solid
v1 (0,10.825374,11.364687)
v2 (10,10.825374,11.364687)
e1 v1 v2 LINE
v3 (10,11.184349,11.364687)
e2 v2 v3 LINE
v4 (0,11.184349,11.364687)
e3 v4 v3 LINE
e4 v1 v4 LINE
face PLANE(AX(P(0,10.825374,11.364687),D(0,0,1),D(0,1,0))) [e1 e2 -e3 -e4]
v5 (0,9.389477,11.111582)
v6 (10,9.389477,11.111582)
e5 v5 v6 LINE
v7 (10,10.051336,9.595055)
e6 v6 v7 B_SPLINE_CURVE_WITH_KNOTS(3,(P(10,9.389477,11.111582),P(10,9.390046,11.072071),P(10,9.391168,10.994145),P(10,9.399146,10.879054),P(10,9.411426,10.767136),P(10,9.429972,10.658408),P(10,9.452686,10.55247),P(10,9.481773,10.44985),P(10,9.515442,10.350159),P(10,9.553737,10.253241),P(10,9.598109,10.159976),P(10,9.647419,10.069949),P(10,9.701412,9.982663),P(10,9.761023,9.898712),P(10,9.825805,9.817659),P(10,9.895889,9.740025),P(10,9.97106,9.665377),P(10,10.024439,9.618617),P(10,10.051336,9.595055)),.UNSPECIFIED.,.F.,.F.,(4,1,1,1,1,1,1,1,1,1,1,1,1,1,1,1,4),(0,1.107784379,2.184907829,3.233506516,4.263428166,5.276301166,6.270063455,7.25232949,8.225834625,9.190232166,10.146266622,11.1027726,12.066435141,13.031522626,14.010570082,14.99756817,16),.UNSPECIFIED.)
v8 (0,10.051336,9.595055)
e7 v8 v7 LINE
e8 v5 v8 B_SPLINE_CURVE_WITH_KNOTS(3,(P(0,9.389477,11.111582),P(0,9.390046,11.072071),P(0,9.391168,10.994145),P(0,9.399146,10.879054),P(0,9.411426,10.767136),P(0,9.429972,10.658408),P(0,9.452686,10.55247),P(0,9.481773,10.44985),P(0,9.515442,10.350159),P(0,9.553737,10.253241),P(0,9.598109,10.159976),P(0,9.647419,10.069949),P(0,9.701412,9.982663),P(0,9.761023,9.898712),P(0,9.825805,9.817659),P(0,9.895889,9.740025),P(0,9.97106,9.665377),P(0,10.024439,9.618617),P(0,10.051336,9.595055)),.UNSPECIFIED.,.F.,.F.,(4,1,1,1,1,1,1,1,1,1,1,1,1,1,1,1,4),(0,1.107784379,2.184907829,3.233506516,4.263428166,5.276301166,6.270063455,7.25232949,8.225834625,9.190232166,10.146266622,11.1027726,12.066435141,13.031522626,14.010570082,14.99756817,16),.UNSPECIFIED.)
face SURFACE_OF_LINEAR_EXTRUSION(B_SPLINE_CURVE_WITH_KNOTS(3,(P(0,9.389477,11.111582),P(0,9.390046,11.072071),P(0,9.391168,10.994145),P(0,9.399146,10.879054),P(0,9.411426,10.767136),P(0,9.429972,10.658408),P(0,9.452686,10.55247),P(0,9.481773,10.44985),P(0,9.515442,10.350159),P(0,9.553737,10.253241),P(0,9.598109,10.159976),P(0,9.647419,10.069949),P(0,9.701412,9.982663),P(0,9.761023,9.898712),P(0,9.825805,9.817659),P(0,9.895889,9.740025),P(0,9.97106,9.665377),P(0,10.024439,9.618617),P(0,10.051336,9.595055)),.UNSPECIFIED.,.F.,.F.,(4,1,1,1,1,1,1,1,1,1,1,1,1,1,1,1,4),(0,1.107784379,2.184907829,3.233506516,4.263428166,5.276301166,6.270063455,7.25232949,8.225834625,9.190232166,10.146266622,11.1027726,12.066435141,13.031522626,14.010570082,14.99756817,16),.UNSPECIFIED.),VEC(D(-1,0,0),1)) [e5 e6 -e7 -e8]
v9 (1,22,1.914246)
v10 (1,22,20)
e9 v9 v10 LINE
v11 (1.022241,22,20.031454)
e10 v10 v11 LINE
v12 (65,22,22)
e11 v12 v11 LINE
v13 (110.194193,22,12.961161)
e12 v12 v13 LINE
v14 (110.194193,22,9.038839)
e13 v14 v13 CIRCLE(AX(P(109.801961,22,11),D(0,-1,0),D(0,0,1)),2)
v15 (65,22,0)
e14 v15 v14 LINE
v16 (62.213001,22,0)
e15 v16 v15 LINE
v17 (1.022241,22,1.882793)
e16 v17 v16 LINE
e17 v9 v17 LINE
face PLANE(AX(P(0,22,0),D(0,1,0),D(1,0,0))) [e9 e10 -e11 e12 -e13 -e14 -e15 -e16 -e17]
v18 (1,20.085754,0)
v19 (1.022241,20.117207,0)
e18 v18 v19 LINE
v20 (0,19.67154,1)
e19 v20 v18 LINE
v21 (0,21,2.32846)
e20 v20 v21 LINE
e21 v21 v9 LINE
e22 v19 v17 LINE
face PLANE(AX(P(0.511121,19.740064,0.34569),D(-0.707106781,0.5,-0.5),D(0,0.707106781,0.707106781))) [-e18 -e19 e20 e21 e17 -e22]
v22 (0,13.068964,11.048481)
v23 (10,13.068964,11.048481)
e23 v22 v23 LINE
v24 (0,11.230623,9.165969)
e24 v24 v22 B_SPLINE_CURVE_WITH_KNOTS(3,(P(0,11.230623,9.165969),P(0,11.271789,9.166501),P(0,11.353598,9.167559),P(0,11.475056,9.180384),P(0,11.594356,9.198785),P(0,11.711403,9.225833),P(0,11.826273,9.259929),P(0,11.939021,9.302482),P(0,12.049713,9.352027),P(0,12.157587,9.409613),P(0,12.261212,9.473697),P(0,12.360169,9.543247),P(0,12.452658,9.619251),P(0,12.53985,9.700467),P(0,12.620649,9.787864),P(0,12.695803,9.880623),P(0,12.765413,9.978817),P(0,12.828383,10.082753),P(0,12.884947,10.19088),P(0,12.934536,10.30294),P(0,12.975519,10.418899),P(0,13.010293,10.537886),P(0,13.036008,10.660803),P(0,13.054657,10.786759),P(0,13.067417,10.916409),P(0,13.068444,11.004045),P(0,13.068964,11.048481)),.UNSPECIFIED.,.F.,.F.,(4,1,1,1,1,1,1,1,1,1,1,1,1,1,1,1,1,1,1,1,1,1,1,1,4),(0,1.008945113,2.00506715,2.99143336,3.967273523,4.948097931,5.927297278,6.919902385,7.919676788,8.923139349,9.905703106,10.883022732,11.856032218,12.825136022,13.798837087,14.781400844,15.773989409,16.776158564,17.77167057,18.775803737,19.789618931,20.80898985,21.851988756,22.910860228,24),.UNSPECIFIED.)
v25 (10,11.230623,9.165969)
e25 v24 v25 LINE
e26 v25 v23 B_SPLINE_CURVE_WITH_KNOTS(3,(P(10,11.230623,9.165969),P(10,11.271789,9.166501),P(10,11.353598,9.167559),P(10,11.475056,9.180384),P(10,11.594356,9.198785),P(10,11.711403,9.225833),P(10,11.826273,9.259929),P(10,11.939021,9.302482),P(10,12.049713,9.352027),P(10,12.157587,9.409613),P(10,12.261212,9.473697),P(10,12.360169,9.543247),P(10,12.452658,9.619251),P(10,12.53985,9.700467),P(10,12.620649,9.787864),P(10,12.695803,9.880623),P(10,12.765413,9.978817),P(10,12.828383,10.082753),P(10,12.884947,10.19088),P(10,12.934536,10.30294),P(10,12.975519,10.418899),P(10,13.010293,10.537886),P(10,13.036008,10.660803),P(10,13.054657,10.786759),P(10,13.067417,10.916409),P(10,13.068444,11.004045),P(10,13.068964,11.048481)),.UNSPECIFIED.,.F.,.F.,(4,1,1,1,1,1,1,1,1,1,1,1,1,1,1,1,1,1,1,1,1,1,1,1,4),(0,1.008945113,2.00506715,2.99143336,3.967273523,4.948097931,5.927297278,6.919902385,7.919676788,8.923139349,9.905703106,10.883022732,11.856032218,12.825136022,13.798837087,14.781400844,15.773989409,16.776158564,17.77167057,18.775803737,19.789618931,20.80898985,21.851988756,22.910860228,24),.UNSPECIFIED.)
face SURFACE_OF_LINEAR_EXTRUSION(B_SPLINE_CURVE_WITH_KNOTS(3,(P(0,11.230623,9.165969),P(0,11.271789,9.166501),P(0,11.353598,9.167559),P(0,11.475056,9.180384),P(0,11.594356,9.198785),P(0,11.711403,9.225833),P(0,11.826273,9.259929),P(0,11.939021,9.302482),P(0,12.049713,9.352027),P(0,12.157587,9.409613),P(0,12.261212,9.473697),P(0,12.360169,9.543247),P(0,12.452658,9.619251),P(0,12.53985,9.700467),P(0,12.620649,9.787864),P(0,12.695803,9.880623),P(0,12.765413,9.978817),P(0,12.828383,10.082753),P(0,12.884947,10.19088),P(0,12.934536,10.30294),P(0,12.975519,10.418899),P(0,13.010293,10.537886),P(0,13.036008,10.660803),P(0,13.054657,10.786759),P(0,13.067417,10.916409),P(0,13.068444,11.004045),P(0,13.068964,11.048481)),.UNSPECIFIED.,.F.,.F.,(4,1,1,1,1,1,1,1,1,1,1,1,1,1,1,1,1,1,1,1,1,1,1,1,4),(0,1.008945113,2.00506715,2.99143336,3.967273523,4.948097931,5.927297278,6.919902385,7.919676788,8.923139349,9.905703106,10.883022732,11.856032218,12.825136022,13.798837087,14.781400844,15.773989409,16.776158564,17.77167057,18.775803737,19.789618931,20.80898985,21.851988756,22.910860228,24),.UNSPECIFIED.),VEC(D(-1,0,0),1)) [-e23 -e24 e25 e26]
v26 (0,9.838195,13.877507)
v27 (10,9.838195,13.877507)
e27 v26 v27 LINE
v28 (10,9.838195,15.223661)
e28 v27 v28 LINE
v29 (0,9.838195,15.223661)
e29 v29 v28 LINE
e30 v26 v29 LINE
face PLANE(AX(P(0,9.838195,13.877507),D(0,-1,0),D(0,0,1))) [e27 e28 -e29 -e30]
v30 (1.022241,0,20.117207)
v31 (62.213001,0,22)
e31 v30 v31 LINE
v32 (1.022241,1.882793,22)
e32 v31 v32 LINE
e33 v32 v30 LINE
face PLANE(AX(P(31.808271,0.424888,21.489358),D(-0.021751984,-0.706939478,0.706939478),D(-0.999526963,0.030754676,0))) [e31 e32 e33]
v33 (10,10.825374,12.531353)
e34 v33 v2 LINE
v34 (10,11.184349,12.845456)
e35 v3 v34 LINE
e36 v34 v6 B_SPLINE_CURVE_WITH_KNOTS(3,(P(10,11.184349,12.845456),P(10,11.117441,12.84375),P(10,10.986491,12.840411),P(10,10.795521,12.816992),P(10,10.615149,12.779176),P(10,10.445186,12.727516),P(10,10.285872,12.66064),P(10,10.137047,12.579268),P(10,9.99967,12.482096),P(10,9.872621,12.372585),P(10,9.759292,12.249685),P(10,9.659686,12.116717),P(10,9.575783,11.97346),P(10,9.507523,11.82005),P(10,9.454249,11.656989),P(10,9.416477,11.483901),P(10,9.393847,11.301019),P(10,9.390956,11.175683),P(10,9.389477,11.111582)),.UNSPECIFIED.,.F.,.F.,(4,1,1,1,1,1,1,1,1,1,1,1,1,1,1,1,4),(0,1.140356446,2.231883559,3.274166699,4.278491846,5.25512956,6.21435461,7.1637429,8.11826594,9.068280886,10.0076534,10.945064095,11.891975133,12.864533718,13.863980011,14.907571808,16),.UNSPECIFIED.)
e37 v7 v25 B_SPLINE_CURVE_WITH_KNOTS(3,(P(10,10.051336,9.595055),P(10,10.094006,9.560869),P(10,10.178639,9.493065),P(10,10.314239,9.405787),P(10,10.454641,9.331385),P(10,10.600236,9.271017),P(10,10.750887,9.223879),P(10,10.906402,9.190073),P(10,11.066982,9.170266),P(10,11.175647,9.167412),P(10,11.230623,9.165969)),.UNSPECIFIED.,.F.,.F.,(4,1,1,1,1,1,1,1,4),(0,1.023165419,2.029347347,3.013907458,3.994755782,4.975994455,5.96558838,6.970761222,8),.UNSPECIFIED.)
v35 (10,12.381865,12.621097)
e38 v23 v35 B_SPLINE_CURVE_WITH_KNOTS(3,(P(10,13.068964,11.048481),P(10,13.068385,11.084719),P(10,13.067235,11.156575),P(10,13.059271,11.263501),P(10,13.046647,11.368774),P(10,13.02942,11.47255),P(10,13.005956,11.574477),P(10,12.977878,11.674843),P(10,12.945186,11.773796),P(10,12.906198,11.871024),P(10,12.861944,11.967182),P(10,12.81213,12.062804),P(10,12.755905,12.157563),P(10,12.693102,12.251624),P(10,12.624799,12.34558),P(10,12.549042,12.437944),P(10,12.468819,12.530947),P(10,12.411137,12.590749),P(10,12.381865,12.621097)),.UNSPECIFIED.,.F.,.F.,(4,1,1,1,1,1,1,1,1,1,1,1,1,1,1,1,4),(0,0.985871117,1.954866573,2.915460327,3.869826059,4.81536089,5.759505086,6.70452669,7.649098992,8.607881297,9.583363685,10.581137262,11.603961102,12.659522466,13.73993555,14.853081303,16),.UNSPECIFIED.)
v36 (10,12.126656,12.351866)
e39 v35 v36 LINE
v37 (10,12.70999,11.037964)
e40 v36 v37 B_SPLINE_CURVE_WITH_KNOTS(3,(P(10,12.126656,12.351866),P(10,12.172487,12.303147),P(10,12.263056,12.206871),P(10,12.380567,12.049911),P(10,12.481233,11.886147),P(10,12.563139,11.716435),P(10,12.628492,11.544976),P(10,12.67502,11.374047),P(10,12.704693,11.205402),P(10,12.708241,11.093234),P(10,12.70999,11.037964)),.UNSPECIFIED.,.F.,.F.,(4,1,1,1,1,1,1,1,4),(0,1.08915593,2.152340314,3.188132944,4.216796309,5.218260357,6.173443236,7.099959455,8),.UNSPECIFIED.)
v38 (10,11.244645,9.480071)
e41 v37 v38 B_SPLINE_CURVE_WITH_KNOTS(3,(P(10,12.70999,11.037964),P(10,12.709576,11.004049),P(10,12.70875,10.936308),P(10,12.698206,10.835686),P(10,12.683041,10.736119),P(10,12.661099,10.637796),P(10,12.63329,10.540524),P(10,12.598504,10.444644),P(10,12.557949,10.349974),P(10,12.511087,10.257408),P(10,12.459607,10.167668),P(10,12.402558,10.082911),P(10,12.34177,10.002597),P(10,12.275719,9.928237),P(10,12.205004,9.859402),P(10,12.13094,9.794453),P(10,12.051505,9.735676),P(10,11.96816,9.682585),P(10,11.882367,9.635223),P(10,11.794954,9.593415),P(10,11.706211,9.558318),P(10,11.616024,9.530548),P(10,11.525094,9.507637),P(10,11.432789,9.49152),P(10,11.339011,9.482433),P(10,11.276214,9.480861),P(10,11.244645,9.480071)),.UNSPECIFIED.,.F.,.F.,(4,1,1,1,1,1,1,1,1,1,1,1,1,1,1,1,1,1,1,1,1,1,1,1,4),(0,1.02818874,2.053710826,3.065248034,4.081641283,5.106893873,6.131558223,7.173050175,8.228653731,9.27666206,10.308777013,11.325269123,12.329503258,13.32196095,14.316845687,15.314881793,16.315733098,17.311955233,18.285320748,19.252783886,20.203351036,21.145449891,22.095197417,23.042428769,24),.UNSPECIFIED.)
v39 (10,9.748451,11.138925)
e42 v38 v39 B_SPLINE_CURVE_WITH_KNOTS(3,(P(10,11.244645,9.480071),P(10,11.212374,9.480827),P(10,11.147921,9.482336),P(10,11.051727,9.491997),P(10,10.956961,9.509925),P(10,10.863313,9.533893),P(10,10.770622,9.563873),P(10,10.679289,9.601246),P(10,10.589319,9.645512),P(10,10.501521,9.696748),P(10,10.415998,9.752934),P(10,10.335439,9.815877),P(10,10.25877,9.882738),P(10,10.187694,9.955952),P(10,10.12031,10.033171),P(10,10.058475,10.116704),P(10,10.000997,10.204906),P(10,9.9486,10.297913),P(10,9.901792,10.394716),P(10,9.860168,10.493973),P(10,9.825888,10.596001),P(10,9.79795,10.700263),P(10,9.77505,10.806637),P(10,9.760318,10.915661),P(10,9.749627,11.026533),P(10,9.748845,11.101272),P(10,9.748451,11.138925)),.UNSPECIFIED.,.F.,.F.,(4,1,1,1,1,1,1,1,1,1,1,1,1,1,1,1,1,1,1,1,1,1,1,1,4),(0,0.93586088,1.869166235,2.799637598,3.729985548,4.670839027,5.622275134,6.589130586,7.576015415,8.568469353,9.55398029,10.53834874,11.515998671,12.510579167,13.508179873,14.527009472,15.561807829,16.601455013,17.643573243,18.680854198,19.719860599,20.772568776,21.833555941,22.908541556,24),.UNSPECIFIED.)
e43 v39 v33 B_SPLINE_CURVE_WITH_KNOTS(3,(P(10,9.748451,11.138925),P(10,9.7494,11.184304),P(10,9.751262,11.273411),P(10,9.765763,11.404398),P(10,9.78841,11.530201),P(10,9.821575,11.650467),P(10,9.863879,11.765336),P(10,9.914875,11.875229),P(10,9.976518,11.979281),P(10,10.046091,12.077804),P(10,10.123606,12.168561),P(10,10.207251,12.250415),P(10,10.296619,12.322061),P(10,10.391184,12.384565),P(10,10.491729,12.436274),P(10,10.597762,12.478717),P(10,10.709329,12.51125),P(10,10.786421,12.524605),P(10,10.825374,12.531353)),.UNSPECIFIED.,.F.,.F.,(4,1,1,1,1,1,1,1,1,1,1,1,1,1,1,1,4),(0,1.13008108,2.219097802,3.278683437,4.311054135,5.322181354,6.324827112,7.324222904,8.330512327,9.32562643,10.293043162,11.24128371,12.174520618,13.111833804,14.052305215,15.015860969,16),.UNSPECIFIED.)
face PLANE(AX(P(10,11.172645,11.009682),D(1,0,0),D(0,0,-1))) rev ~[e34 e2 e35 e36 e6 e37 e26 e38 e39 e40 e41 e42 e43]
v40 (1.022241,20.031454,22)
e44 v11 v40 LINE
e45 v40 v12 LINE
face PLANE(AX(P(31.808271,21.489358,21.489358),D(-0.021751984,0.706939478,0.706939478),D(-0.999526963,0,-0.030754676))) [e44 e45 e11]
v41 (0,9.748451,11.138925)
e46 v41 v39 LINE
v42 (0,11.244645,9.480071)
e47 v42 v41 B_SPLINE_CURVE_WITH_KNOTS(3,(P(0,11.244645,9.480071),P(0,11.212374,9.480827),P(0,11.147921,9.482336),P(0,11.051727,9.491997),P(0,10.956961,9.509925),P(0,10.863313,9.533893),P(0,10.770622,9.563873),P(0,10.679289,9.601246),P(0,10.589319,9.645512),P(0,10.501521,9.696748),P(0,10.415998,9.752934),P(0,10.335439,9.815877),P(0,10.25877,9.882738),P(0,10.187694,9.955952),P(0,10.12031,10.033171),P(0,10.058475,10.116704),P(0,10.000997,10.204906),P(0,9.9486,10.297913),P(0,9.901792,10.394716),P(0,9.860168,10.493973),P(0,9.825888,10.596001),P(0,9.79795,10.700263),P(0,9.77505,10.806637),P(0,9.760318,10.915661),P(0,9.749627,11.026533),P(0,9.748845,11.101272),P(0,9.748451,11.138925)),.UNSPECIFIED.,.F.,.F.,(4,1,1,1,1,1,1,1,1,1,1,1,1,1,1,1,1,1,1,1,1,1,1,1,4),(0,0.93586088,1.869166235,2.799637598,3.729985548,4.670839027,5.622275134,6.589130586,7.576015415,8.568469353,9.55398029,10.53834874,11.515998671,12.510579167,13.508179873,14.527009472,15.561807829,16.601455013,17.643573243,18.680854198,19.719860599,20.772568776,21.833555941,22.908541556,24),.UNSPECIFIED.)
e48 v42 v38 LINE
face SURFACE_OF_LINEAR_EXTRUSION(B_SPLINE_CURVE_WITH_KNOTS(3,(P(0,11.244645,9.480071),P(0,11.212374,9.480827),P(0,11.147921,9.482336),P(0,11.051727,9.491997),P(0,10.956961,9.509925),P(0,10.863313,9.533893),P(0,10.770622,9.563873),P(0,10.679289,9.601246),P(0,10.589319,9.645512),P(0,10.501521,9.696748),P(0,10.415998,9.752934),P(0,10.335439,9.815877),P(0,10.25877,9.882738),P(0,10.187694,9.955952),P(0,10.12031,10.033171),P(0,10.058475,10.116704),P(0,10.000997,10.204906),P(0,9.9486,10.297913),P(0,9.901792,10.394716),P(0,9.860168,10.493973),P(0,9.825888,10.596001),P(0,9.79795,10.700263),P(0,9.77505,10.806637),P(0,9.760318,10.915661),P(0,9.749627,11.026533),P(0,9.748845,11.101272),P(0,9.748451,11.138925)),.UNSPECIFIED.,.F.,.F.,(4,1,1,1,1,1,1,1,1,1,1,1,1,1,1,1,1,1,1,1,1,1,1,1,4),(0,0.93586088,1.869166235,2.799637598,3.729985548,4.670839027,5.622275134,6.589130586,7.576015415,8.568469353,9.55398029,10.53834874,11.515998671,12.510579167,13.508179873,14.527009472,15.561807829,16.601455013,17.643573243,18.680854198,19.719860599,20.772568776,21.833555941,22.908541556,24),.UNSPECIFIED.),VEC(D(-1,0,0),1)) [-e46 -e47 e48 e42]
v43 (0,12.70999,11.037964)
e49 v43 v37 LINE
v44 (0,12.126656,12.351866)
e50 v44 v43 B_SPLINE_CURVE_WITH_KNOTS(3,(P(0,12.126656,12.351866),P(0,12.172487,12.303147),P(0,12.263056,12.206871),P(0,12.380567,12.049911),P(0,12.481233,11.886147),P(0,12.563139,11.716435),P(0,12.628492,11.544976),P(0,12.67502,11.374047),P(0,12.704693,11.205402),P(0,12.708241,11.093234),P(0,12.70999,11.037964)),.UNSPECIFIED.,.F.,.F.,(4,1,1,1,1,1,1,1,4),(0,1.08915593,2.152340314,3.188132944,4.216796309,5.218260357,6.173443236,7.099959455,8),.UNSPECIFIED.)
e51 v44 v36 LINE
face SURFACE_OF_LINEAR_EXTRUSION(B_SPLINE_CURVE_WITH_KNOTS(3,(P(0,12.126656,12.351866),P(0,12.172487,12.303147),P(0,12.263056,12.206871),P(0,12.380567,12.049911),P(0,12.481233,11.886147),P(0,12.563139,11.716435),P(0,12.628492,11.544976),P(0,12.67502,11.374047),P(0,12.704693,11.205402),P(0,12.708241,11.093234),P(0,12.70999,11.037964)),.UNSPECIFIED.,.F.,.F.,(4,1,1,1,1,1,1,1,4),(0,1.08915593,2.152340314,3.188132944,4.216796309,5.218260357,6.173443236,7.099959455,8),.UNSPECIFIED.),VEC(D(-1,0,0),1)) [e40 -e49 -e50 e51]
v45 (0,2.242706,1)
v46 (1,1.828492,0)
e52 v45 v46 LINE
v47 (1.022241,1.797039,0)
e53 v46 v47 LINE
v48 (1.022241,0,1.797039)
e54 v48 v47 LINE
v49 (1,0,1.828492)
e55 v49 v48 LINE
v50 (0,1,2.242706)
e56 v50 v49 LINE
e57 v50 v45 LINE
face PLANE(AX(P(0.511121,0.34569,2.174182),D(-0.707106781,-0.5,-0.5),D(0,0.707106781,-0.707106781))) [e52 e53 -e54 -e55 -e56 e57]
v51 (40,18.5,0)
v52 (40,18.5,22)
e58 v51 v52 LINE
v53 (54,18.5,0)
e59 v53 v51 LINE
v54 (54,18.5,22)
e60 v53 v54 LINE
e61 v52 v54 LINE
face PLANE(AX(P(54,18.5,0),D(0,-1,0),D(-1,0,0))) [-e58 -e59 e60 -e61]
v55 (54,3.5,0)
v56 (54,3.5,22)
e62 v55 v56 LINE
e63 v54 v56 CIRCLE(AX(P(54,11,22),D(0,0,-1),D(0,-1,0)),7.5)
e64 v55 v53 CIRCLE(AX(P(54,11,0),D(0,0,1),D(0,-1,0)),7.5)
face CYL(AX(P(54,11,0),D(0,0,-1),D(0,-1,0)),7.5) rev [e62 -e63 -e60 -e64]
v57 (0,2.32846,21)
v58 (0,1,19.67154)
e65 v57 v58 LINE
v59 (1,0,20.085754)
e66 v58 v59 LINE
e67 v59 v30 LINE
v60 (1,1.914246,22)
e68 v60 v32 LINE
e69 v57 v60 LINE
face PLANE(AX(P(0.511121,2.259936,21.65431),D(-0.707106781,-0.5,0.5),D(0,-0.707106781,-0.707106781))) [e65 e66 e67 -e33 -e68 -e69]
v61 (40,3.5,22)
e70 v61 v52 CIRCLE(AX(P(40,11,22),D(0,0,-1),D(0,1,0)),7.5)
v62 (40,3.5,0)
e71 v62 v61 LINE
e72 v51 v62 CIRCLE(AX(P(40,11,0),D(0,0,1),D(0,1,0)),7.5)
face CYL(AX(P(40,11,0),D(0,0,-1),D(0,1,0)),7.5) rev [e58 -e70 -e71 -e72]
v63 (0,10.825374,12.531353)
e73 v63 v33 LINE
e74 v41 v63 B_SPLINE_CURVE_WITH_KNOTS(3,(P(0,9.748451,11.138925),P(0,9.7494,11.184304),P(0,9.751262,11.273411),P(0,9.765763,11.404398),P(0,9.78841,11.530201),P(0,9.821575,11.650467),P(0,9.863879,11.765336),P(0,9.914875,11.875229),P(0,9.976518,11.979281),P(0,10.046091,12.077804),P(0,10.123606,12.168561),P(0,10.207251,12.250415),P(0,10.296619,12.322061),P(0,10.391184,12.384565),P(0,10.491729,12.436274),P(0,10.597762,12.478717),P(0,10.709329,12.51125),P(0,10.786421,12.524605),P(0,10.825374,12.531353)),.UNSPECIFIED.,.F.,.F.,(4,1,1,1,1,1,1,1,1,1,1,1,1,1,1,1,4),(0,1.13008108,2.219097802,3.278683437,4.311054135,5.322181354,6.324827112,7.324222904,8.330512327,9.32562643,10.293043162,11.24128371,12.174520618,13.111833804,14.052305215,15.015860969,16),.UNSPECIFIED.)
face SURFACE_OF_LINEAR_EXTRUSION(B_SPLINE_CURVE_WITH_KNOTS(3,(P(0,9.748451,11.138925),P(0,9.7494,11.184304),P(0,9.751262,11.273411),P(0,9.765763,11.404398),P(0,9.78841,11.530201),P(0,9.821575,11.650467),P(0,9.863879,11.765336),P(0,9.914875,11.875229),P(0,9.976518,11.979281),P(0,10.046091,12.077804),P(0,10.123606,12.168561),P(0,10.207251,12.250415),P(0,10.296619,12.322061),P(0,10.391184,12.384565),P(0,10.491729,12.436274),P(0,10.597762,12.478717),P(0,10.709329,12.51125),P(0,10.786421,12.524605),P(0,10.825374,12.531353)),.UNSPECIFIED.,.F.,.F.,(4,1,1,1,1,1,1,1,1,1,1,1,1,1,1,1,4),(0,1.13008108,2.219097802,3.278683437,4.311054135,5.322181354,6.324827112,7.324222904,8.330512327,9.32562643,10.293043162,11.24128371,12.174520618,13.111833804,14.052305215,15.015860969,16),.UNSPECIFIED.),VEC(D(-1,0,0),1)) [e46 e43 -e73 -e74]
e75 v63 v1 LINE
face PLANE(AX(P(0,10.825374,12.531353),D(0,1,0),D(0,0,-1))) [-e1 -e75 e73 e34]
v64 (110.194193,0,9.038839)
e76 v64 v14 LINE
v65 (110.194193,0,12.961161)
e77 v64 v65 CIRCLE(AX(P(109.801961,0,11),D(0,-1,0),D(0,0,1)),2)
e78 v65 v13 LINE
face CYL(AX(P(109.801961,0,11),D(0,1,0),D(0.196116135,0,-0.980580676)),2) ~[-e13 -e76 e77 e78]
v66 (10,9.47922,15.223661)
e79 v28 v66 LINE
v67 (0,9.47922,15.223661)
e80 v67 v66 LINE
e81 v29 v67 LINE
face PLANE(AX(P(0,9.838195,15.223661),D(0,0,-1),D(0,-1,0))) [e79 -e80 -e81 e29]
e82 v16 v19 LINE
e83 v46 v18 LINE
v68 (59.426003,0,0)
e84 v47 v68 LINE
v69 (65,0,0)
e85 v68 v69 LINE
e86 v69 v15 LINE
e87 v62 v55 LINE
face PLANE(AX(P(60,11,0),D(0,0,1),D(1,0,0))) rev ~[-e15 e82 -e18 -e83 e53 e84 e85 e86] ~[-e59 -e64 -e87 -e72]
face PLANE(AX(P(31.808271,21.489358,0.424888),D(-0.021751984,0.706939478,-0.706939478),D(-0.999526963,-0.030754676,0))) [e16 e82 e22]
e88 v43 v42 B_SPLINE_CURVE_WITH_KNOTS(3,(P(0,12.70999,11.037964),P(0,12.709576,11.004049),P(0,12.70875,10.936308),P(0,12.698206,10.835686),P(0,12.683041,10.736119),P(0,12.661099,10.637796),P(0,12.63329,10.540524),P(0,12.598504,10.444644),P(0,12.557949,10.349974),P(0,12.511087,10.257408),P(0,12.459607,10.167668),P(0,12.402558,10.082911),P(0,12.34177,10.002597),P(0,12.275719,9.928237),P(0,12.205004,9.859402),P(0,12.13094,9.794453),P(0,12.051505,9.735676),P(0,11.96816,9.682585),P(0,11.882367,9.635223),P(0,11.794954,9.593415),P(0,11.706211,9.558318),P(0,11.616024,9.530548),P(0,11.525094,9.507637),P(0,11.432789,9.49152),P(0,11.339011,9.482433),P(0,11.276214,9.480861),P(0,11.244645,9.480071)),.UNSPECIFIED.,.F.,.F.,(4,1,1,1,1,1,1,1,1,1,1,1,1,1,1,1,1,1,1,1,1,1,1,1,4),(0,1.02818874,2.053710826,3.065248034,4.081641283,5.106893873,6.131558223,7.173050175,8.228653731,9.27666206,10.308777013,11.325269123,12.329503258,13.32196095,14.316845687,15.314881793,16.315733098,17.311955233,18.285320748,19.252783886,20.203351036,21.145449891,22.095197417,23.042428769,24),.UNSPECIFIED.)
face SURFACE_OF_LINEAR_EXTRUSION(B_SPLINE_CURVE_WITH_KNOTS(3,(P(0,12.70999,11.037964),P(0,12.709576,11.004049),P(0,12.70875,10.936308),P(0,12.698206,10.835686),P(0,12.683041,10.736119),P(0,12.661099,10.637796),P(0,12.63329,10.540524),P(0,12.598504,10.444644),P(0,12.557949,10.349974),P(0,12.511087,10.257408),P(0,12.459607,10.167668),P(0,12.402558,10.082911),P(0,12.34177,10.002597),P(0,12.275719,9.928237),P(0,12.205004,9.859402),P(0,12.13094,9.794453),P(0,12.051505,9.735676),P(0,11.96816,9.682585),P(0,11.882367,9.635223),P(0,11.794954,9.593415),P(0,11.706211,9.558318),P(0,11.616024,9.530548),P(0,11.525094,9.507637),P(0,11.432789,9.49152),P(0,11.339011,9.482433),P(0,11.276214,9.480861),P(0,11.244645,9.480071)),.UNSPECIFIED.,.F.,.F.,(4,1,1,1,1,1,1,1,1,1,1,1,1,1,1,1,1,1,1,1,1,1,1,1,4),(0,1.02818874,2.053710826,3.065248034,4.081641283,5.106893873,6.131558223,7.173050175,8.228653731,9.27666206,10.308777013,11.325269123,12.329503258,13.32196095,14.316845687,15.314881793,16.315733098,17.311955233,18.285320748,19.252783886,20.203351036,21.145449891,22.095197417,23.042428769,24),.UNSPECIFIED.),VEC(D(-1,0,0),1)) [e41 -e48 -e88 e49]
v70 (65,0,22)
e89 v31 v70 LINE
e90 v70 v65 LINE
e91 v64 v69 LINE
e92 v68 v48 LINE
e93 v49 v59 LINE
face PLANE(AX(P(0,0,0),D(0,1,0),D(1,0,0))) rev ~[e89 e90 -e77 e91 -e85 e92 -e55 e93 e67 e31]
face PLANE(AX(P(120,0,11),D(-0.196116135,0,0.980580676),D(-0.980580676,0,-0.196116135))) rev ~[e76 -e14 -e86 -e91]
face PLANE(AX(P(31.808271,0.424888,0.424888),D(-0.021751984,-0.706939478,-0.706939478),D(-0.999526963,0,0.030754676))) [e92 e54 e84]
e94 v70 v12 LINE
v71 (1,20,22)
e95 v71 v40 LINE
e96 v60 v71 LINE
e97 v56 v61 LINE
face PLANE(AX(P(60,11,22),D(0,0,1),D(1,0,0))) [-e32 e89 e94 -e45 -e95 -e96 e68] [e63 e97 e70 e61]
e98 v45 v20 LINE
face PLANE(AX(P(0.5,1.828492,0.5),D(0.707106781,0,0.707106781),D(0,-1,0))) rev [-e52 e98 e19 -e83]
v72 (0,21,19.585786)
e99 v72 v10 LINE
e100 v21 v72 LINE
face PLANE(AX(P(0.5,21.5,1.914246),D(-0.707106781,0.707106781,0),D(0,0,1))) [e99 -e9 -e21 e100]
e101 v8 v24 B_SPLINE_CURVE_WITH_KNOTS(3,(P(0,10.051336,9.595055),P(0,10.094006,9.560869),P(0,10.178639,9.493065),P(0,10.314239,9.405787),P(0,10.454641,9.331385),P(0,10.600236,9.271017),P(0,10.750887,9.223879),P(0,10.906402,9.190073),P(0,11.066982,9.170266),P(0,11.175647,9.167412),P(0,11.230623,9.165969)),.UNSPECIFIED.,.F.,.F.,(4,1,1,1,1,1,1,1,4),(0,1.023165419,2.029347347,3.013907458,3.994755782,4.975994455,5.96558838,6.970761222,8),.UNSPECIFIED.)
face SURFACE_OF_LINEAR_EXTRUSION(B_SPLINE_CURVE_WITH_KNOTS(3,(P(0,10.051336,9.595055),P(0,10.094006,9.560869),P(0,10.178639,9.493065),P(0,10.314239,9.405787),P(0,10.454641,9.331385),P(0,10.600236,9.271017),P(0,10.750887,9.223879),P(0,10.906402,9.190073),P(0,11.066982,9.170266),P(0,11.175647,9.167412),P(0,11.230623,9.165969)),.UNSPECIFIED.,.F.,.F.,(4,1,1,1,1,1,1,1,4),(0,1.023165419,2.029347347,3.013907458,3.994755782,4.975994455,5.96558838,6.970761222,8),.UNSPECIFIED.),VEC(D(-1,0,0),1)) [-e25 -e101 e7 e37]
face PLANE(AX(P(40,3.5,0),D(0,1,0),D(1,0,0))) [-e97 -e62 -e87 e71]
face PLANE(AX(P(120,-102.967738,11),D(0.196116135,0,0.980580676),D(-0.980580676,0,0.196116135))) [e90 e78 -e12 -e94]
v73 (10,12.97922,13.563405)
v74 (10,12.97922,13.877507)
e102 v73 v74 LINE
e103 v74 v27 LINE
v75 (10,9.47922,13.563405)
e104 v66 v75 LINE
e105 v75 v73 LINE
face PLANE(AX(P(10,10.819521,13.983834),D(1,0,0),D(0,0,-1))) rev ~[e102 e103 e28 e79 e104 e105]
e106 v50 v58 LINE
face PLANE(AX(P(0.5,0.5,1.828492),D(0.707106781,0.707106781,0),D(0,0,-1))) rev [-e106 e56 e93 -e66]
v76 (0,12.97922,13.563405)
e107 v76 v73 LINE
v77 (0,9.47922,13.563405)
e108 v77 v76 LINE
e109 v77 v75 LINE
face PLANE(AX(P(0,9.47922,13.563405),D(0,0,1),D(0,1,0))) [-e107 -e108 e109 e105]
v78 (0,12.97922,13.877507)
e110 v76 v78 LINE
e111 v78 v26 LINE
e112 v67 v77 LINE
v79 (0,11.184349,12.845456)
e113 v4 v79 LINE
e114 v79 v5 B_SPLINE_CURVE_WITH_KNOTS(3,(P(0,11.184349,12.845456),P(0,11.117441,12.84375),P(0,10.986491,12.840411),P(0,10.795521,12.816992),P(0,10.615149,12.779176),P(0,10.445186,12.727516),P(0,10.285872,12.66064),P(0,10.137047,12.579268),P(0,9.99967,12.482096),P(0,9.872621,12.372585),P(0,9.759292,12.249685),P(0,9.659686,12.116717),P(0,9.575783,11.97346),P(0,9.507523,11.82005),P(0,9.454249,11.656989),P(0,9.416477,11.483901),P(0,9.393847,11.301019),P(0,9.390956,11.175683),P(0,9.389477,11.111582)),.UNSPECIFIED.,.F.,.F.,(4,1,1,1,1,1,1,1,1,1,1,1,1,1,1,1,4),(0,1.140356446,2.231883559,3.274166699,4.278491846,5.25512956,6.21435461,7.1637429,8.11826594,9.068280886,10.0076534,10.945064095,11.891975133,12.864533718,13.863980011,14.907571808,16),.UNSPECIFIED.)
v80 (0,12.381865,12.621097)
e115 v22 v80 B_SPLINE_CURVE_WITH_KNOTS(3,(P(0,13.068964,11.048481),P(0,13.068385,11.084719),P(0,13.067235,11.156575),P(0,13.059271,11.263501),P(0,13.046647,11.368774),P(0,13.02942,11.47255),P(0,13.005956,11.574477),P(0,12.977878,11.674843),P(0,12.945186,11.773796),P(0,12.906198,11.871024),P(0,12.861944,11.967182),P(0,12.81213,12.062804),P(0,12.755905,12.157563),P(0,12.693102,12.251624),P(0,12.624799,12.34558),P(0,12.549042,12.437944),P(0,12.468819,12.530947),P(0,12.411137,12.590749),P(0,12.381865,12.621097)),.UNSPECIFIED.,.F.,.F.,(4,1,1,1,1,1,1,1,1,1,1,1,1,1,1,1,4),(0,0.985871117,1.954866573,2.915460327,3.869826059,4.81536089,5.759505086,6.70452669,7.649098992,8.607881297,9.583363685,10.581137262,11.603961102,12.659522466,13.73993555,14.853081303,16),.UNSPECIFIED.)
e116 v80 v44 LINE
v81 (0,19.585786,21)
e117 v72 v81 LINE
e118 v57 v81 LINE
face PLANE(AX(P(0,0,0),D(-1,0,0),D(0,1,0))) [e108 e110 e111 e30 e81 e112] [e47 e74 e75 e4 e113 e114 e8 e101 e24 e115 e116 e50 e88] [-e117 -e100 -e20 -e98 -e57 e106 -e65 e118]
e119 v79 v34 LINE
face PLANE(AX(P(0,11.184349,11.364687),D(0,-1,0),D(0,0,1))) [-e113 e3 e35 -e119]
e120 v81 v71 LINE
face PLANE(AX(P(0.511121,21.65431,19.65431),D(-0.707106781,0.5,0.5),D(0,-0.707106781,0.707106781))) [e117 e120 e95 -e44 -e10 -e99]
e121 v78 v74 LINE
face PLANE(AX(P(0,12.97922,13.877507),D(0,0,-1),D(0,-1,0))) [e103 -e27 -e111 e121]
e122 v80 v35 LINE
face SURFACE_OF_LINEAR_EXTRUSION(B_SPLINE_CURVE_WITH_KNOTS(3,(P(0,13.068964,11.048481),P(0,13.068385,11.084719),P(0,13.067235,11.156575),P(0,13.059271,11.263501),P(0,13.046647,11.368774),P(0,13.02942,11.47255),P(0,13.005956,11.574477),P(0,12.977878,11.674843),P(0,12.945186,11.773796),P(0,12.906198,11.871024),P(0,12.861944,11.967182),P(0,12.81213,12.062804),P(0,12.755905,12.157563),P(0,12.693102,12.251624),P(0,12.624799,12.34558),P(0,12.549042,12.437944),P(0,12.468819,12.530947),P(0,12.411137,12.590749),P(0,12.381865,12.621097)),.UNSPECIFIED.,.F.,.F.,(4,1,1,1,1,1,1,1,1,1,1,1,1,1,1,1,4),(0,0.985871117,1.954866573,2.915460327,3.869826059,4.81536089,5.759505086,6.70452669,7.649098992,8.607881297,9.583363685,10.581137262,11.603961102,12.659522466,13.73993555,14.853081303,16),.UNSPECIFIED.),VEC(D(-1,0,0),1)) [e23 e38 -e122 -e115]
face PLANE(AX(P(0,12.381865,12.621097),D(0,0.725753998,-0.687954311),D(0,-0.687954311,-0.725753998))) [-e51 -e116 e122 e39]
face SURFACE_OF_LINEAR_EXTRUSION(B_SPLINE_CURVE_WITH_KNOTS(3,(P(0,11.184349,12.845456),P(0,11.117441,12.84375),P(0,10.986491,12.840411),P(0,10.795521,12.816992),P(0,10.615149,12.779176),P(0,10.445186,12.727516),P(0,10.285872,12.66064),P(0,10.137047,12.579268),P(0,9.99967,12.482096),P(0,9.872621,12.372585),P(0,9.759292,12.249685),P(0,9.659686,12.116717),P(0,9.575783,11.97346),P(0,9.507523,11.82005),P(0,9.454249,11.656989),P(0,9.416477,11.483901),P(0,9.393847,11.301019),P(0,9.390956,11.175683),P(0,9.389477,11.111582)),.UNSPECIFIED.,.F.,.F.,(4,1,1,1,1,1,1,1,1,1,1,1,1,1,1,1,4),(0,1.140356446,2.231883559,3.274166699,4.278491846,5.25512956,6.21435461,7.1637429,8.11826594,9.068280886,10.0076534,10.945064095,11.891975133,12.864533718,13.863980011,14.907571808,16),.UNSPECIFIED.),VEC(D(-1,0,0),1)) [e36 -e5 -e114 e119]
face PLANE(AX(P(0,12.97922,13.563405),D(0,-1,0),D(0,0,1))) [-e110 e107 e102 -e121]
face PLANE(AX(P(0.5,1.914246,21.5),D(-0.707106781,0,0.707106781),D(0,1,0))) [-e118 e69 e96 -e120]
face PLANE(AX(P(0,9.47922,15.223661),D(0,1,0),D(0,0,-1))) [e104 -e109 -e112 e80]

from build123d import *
from OCP.BRepFilletAPI import BRepFilletAPI_MakeChamfer

# Parameters (mm, degrees)
SKIZZE1_W                            = 120
SKIZZE1_H                            = 22
AUFSATZ_LINEAR_AUSTRAGEN1_DEPTH      = 22
SCHNITT_LINEAR_AUSTRAGEN1_DEPTH      = 124.967737738
SCHNITT_LINEAR_AUSTRAGEN1_DEPTH_BACK = 124.967737738
SCHNITT_LINEAR_AUSTRAGEN5_DEPTH      = 124.967737738
SCHNITT_LINEAR_AUSTRAGEN6_DEPTH      = 124.967737738
VERRUNDUNG1_R                        = 2
SCHNITT_LINEAR_AUSTRAGEN7_DEPTH      = 73.062472897
KREISMUSTER1_COUNT                   = 4
FASE1_SIZE                           = 1
FASE1_SIZE2                          = 1.022482955
SCHNITT_LINEAR_AUSTRAGEN8_DEPTH      = 10


with BuildPart() as part:
    # Skizze1 → Aufsatz-Linear austragen1 (new body)
    with BuildSketch(Plane.XY):
        with Locations((60, 11)):
            Rectangle(SKIZZE1_W, SKIZZE1_H)
    extrude(amount=AUFSATZ_LINEAR_AUSTRAGEN1_DEPTH)

    # Skizze2 → Schnitt-Linear austragen1 (cut, two sides: drawn at the far end of the back side and taken through both)
    with BuildSketch(Plane(origin=(0, 22, 0), x_dir=(1, 0, 0), z_dir=(0, 1, 0)).offset(-SCHNITT_LINEAR_AUSTRAGEN1_DEPTH_BACK)):
        Polygon((120, -11), (65, -22), (120, -22), align=None)
    extrude(amount=SCHNITT_LINEAR_AUSTRAGEN1_DEPTH + SCHNITT_LINEAR_AUSTRAGEN1_DEPTH_BACK, mode=Mode.SUBTRACT)

    # Skizze3 → Schnitt-Linear austragen5 (cut, through all)
    with BuildSketch(Plane.XZ):
        Polygon((120, 11), (65, 0), (120, 0), align=None)
    extrude(amount=-SCHNITT_LINEAR_AUSTRAGEN5_DEPTH, mode=Mode.SUBTRACT)

    # Skizze5 → Schnitt-Linear austragen6 (cut, through all)
    with BuildSketch(Plane(origin=(0, 0, 0), x_dir=(-1, 0, 0), z_dir=(0, 0, -1))):
        with BuildLine():
            Line((-54, 18.5), (-40, 18.5))
            ThreePointArc((-40, 18.5), (-32.5, 11), (-40, 3.5))
            Line((-40, 3.5), (-54, 3.5))
            ThreePointArc((-54, 3.5), (-61.5, 11), (-54, 18.5))
        make_face()
    extrude(amount=-SCHNITT_LINEAR_AUSTRAGEN6_DEPTH, mode=Mode.SUBTRACT)

    # Verrundung1
    verrundung1_edges = [part.edges().sort_by_distance(p)[0] for p in [
        (120, 11, 11),
    ]]
    fillet(verrundung1_edges, radius=VERRUNDUNG1_R)

    # 3D-Skizze1 → Schnitt-Linear austragen7 (cut, through all)
    with BuildSketch(Plane(origin=(65, 22, 22), x_dir=(-0.9995269630766537, 0, -0.03075467578697402), z_dir=(-0.02175198393938513, 0.7069394780300152, 0.7069394780300153))):
        Polygon((0, 0), (65.030761952, 0), (64.9692526, 2.827758229), align=None)
    schnitt_linear_austragen7 = extrude(amount=SCHNITT_LINEAR_AUSTRAGEN7_DEPTH, mode=Mode.SUBTRACT)

    # Kreismuster1: Schnitt-Linear austragen7 ×4 about axis
    kreismuster1_axis = Axis((0, 10.957123098, 10.957123098), (1, 0, 0))
    for i in range(1, KREISMUSTER1_COUNT):
        add(schnitt_linear_austragen7.rotate(kreismuster1_axis, i * 360 / KREISMUSTER1_COUNT), mode=Mode.SUBTRACT)

    # Fase1: one chamfer whose edges measure the first distance from different faces: ONE call of the kernel's chamfer builder (chamfer() names one face for all edges)
    fase1_edges_1 = [part.edges().sort_by_distance(p)[0] for p in [
        (0, 21, 21),
        (0, 0.957123098, 21.042876902),
        (0, 0.914246196, 0.914246196),
        (0, 21.042876902, 0.957123098),
    ]]
    fase1_side_1 = [part.faces().sort_by_distance(p)[0] for p in [
        (0, 10.993083294, 10.993083294),
    ]]
    fase1_edges_2 = [part.edges().sort_by_distance(p)[0] for p in [
        (0, 10.957123098, 22),
        (0, 0, 10.957123098),
        (0, 10.957123098, 0),
        (0, 22, 10.957123098),
    ]]
    fase1 = BRepFilletAPI_MakeChamfer(part.part.solid().wrapped)
    for e in fase1_edges_1:
        fase1.Add(FASE1_SIZE, FASE1_SIZE2, e.wrapped, fase1_side_1[0].wrapped)  # the first distance lies on this face
    for e in fase1_edges_2:
        fase1.Add(FASE1_SIZE, e.wrapped)
    add(Compound.cast(fase1.Shape()), mode=Mode.REPLACE)

    # Skizze6 → Schnitt-Linear austragen8 (cut)
    with BuildSketch(Plane.ZY):
        with BuildLine():
            Line((12.621096819, 12.381864671), (12.35186605, 12.126656338))
            add(Edge.make_bspline(
                [(12.35186605, 12.126656338), (12.303147162, 12.172487201), (12.206871115, 12.263056064), (12.049910873, 12.380567059), (11.886147239, 12.481233159), (11.716434742, 12.563139395), (11.544976188, 12.628492156), (11.374047412, 12.675020296), (11.20540171, 12.704692834), (11.093234492, 12.708241203), (11.037963806, 12.709989671)],
                knots=[0, 0, 0, 0, 1.08915593, 2.152340314, 3.188132944, 4.216796309, 5.218260357, 6.173443236, 7.099959455, 8, 8, 8, 8], degree=3))
            add(Edge.make_bspline(
                [(11.037963806, 12.709989671), (11.004049107, 12.709576065), (10.936307666, 12.708749926), (10.835685722, 12.698205711), (10.736119085, 12.683040847), (10.63779571, 12.661098969), (10.540524424, 12.63328991), (10.444643531, 12.598504446), (10.349974177, 12.557949202), (10.257408096, 12.511086728), (10.167667592, 12.459606882), (10.082910757, 12.402558341), (10.002597358, 12.341769551), (9.928236932, 12.275718572), (9.859401746, 12.205003707), (9.794453374, 12.1309404), (9.735676078, 12.051505182), (9.682584913, 11.968159556), (9.635223294, 11.882367367), (9.593414641, 11.794954377), (9.558317553, 11.706210523), (9.530548098, 11.616024445), (9.507637444, 11.525093855), (9.491519836, 11.432789134), (9.482433114, 11.339011449), (9.480861334, 11.276214191), (9.480071178, 11.24464512)],
                knots=[0, 0, 0, 0, 1.02818874, 2.053710826, 3.065248034, 4.081641283, 5.106893873, 6.131558223, 7.173050175, 8.228653731, 9.27666206, 10.308777013, 11.325269123, 12.329503258, 13.32196095, 14.316845687, 15.314881793, 16.315733098, 17.311955233, 18.285320748, 19.252783886, 20.203351036, 21.145449891, 22.095197417, 23.042428769, 24, 24, 24, 24], degree=3))
            add(Edge.make_bspline(
                [(9.480071178, 11.24464512), (9.480826897, 11.212374302), (9.482336269, 11.147920789), (9.491996589, 11.051726716), (9.509924829, 10.956961314), (9.533892538, 10.863313181), (9.563873354, 10.770621933), (9.60124602, 10.679289423), (9.645511621, 10.589319032), (9.696748173, 10.501521415), (9.752934376, 10.415998392), (9.815877457, 10.33543887), (9.88273804, 10.258770093), (9.95595194, 10.187694329), (10.033171483, 10.120310432), (10.116703759, 10.058474911), (10.204906219, 10.000996687), (10.297913431, 9.948600168), (10.394716213, 9.901791632), (10.493972966, 9.860167736), (10.596000782, 9.825888399), (10.700263472, 9.797950295), (10.806636743, 9.775049998), (10.915660546, 9.760317517), (11.026533254, 9.749626686), (11.101271887, 9.748845016), (11.138925345, 9.748451209)],
                knots=[0, 0, 0, 0, 0.93586088, 1.869166235, 2.799637598, 3.729985548, 4.670839027, 5.622275134, 6.589130586, 7.576015415, 8.568469353, 9.55398029, 10.53834874, 11.515998671, 12.510579167, 13.508179873, 14.527009472, 15.561807829, 16.601455013, 17.643573243, 18.680854198, 19.719860599, 20.772568776, 21.833555941, 22.908541556, 24, 24, 24, 24], degree=3))
            add(Edge.make_bspline(
                [(11.138925345, 9.748451209), (11.184303692, 9.749399786), (11.273411449, 9.751262469), (11.404397892, 9.765762759), (11.530200963, 9.788409553), (11.650467166, 9.821575449), (11.765336187, 9.863879124), (11.875229128, 9.914874511), (11.979280787, 9.97651757), (12.07780396, 10.046091437), (12.168561146, 10.123606269), (12.25041527, 10.207250724), (12.322060759, 10.296618791), (12.384565458, 10.391184106), (12.436274113, 10.491729411), (12.478716908, 10.597761974), (12.511250199, 10.709329486), (12.524605174, 10.786421118), (12.53135323, 10.825374286)],
                knots=[0, 0, 0, 0, 1.13008108, 2.219097802, 3.278683437, 4.311054135, 5.322181354, 6.324827112, 7.324222904, 8.330512327, 9.32562643, 10.293043162, 11.24128371, 12.174520618, 13.111833804, 14.052305215, 15.015860969, 16, 16, 16, 16], degree=3))
            Line((12.53135323, 10.825374286), (11.364686563, 10.825374286))
            Line((11.364686563, 10.825374286), (11.364686563, 11.184348645))
            Line((11.364686563, 11.184348645), (12.845455794, 11.184348645))
            add(Edge.make_bspline(
                [(12.845455794, 11.184348645), (12.843749945, 11.117441157), (12.840411292, 10.986491115), (12.816992376, 10.795520844), (12.779175864, 10.615149151), (12.727515552, 10.445186079), (12.660640272, 10.285872486), (12.579267743, 10.13704662), (12.482095622, 9.999669939), (12.372585181, 9.872620936), (12.249685223, 9.759291723), (12.116716603, 9.659685785), (11.973459635, 9.57578317), (11.820049827, 9.507522508), (11.656989394, 9.454248513), (11.483901014, 9.416476936), (11.301019413, 9.393846973), (11.175682736, 9.390955593), (11.111581595, 9.38947685)],
                knots=[0, 0, 0, 0, 1.140356446, 2.231883559, 3.274166699, 4.278491846, 5.25512956, 6.21435461, 7.1637429, 8.11826594, 9.068280886, 10.0076534, 10.945064095, 11.891975133, 12.864533718, 13.863980011, 14.907571808, 16, 16, 16, 16], degree=3))
            add(Edge.make_bspline(
                [(11.111581595, 9.38947685), (11.07207146, 9.390045972), (10.994144739, 9.391168462), (10.879053811, 9.39914581), (10.76713619, 9.411426386), (10.658408181, 9.429971509), (10.552469839, 9.452686164), (10.449850254, 9.481772882), (10.350158512, 9.515441582), (10.253240526, 9.553737255), (10.15997598, 9.598108912), (10.069949463, 9.647418551), (9.982663337, 9.701411912), (9.898712172, 9.761022758), (9.81765855, 9.825805218), (9.740025107, 9.895889137), (9.665377229, 9.971060257), (9.618616765, 10.024439266), (9.595055153, 10.051335825)],
                knots=[0, 0, 0, 0, 1.107784379, 2.184907829, 3.233506516, 4.263428166, 5.276301166, 6.270063455, 7.25232949, 8.225834625, 9.190232166, 10.146266622, 11.1027726, 12.066435141, 13.031522626, 14.010570082, 14.99756817, 16, 16, 16, 16], degree=3))
            add(Edge.make_bspline(
                [(9.595055153, 10.051335825), (9.560869221, 10.094006478), (9.493064808, 10.178639495), (9.405786651, 10.314239439), (9.331385249, 10.4546413), (9.271017426, 10.600235928), (9.22387934, 10.750887141), (9.190073087, 10.906402432), (9.170265798, 11.066982063), (9.167412261, 11.175647327), (9.165968614, 11.230622684)],
                knots=[0, 0, 0, 0, 1.023165419, 2.029347347, 3.013907458, 3.994755782, 4.975994455, 5.96558838, 6.970761222, 8, 8, 8, 8], degree=3))
            add(Edge.make_bspline(
                [(9.165968614, 11.230622684), (9.166500852, 11.271788937), (9.167558564, 11.353598244), (9.18038408, 11.475055551), (9.198785498, 11.594356244), (9.225832553, 11.7114028), (9.259928818, 11.826273392), (9.302482304, 11.939021355), (9.3520272, 12.049713227), (9.409612696, 12.157587095), (9.473697155, 12.261211508), (9.543247376, 12.360169311), (9.619250976, 12.452658376), (9.700466775, 12.539850024), (9.787863766, 12.620648871), (9.880623189, 12.695802982), (9.978816532, 12.765413168), (10.082752712, 12.828383003), (10.190880396, 12.884946623), (10.302940398, 12.934535835), (10.418898509, 12.97551915), (10.537885986, 13.01029293), (10.660803487, 13.036008071), (10.786759024, 13.054656816), (10.916409136, 13.067417416), (11.004045165, 13.068443671), (11.048480633, 13.06896403)],
                knots=[0, 0, 0, 0, 1.008945113, 2.00506715, 2.99143336, 3.967273523, 4.948097931, 5.927297278, 6.919902385, 7.919676788, 8.923139349, 9.905703106, 10.883022732, 11.856032218, 12.825136022, 13.798837087, 14.781400844, 15.773989409, 16.776158564, 17.77167057, 18.775803737, 19.789618931, 20.80898985, 21.851988756, 22.910860228, 24, 24, 24, 24], degree=3))
            add(Edge.make_bspline(
                [(11.048480633, 13.06896403), (11.084718877, 13.068384538), (11.156575056, 13.067235474), (11.263500788, 13.059270826), (11.368773803, 13.046646945), (11.472550193, 13.029420158), (11.574476559, 13.005956468), (11.674843264, 12.977878183), (11.7737958, 12.945186361), (11.87102405, 12.906197514), (11.967181766, 12.861943889), (12.062803606, 12.812130467), (12.157562852, 12.755905462), (12.251623834, 12.693101927), (12.345579691, 12.624798509), (12.437944334, 12.549041685), (12.530947278, 12.46881893), (12.590749092, 12.411136746), (12.621096819, 12.381864671)],
                knots=[0, 0, 0, 0, 0.985871117, 1.954866573, 2.915460327, 3.869826059, 4.81536089, 5.759505086, 6.70452669, 7.649098992, 8.607881297, 9.583363685, 10.581137262, 11.603961102, 12.659522466, 13.73993555, 14.853081303, 16, 16, 16, 16], degree=3))
        make_face()
        Polygon((13.563404512, 12.97922044), (13.877507076, 12.97922044), (13.877507076, 9.838194799), (15.223660922, 9.838194799), (15.223660922, 9.47922044), (13.563404512, 9.47922044), align=None)
    extrude(amount=-SCHNITT_LINEAR_AUSTRAGEN8_DEPTH, mode=Mode.SUBTRACT)


solid = part.part
